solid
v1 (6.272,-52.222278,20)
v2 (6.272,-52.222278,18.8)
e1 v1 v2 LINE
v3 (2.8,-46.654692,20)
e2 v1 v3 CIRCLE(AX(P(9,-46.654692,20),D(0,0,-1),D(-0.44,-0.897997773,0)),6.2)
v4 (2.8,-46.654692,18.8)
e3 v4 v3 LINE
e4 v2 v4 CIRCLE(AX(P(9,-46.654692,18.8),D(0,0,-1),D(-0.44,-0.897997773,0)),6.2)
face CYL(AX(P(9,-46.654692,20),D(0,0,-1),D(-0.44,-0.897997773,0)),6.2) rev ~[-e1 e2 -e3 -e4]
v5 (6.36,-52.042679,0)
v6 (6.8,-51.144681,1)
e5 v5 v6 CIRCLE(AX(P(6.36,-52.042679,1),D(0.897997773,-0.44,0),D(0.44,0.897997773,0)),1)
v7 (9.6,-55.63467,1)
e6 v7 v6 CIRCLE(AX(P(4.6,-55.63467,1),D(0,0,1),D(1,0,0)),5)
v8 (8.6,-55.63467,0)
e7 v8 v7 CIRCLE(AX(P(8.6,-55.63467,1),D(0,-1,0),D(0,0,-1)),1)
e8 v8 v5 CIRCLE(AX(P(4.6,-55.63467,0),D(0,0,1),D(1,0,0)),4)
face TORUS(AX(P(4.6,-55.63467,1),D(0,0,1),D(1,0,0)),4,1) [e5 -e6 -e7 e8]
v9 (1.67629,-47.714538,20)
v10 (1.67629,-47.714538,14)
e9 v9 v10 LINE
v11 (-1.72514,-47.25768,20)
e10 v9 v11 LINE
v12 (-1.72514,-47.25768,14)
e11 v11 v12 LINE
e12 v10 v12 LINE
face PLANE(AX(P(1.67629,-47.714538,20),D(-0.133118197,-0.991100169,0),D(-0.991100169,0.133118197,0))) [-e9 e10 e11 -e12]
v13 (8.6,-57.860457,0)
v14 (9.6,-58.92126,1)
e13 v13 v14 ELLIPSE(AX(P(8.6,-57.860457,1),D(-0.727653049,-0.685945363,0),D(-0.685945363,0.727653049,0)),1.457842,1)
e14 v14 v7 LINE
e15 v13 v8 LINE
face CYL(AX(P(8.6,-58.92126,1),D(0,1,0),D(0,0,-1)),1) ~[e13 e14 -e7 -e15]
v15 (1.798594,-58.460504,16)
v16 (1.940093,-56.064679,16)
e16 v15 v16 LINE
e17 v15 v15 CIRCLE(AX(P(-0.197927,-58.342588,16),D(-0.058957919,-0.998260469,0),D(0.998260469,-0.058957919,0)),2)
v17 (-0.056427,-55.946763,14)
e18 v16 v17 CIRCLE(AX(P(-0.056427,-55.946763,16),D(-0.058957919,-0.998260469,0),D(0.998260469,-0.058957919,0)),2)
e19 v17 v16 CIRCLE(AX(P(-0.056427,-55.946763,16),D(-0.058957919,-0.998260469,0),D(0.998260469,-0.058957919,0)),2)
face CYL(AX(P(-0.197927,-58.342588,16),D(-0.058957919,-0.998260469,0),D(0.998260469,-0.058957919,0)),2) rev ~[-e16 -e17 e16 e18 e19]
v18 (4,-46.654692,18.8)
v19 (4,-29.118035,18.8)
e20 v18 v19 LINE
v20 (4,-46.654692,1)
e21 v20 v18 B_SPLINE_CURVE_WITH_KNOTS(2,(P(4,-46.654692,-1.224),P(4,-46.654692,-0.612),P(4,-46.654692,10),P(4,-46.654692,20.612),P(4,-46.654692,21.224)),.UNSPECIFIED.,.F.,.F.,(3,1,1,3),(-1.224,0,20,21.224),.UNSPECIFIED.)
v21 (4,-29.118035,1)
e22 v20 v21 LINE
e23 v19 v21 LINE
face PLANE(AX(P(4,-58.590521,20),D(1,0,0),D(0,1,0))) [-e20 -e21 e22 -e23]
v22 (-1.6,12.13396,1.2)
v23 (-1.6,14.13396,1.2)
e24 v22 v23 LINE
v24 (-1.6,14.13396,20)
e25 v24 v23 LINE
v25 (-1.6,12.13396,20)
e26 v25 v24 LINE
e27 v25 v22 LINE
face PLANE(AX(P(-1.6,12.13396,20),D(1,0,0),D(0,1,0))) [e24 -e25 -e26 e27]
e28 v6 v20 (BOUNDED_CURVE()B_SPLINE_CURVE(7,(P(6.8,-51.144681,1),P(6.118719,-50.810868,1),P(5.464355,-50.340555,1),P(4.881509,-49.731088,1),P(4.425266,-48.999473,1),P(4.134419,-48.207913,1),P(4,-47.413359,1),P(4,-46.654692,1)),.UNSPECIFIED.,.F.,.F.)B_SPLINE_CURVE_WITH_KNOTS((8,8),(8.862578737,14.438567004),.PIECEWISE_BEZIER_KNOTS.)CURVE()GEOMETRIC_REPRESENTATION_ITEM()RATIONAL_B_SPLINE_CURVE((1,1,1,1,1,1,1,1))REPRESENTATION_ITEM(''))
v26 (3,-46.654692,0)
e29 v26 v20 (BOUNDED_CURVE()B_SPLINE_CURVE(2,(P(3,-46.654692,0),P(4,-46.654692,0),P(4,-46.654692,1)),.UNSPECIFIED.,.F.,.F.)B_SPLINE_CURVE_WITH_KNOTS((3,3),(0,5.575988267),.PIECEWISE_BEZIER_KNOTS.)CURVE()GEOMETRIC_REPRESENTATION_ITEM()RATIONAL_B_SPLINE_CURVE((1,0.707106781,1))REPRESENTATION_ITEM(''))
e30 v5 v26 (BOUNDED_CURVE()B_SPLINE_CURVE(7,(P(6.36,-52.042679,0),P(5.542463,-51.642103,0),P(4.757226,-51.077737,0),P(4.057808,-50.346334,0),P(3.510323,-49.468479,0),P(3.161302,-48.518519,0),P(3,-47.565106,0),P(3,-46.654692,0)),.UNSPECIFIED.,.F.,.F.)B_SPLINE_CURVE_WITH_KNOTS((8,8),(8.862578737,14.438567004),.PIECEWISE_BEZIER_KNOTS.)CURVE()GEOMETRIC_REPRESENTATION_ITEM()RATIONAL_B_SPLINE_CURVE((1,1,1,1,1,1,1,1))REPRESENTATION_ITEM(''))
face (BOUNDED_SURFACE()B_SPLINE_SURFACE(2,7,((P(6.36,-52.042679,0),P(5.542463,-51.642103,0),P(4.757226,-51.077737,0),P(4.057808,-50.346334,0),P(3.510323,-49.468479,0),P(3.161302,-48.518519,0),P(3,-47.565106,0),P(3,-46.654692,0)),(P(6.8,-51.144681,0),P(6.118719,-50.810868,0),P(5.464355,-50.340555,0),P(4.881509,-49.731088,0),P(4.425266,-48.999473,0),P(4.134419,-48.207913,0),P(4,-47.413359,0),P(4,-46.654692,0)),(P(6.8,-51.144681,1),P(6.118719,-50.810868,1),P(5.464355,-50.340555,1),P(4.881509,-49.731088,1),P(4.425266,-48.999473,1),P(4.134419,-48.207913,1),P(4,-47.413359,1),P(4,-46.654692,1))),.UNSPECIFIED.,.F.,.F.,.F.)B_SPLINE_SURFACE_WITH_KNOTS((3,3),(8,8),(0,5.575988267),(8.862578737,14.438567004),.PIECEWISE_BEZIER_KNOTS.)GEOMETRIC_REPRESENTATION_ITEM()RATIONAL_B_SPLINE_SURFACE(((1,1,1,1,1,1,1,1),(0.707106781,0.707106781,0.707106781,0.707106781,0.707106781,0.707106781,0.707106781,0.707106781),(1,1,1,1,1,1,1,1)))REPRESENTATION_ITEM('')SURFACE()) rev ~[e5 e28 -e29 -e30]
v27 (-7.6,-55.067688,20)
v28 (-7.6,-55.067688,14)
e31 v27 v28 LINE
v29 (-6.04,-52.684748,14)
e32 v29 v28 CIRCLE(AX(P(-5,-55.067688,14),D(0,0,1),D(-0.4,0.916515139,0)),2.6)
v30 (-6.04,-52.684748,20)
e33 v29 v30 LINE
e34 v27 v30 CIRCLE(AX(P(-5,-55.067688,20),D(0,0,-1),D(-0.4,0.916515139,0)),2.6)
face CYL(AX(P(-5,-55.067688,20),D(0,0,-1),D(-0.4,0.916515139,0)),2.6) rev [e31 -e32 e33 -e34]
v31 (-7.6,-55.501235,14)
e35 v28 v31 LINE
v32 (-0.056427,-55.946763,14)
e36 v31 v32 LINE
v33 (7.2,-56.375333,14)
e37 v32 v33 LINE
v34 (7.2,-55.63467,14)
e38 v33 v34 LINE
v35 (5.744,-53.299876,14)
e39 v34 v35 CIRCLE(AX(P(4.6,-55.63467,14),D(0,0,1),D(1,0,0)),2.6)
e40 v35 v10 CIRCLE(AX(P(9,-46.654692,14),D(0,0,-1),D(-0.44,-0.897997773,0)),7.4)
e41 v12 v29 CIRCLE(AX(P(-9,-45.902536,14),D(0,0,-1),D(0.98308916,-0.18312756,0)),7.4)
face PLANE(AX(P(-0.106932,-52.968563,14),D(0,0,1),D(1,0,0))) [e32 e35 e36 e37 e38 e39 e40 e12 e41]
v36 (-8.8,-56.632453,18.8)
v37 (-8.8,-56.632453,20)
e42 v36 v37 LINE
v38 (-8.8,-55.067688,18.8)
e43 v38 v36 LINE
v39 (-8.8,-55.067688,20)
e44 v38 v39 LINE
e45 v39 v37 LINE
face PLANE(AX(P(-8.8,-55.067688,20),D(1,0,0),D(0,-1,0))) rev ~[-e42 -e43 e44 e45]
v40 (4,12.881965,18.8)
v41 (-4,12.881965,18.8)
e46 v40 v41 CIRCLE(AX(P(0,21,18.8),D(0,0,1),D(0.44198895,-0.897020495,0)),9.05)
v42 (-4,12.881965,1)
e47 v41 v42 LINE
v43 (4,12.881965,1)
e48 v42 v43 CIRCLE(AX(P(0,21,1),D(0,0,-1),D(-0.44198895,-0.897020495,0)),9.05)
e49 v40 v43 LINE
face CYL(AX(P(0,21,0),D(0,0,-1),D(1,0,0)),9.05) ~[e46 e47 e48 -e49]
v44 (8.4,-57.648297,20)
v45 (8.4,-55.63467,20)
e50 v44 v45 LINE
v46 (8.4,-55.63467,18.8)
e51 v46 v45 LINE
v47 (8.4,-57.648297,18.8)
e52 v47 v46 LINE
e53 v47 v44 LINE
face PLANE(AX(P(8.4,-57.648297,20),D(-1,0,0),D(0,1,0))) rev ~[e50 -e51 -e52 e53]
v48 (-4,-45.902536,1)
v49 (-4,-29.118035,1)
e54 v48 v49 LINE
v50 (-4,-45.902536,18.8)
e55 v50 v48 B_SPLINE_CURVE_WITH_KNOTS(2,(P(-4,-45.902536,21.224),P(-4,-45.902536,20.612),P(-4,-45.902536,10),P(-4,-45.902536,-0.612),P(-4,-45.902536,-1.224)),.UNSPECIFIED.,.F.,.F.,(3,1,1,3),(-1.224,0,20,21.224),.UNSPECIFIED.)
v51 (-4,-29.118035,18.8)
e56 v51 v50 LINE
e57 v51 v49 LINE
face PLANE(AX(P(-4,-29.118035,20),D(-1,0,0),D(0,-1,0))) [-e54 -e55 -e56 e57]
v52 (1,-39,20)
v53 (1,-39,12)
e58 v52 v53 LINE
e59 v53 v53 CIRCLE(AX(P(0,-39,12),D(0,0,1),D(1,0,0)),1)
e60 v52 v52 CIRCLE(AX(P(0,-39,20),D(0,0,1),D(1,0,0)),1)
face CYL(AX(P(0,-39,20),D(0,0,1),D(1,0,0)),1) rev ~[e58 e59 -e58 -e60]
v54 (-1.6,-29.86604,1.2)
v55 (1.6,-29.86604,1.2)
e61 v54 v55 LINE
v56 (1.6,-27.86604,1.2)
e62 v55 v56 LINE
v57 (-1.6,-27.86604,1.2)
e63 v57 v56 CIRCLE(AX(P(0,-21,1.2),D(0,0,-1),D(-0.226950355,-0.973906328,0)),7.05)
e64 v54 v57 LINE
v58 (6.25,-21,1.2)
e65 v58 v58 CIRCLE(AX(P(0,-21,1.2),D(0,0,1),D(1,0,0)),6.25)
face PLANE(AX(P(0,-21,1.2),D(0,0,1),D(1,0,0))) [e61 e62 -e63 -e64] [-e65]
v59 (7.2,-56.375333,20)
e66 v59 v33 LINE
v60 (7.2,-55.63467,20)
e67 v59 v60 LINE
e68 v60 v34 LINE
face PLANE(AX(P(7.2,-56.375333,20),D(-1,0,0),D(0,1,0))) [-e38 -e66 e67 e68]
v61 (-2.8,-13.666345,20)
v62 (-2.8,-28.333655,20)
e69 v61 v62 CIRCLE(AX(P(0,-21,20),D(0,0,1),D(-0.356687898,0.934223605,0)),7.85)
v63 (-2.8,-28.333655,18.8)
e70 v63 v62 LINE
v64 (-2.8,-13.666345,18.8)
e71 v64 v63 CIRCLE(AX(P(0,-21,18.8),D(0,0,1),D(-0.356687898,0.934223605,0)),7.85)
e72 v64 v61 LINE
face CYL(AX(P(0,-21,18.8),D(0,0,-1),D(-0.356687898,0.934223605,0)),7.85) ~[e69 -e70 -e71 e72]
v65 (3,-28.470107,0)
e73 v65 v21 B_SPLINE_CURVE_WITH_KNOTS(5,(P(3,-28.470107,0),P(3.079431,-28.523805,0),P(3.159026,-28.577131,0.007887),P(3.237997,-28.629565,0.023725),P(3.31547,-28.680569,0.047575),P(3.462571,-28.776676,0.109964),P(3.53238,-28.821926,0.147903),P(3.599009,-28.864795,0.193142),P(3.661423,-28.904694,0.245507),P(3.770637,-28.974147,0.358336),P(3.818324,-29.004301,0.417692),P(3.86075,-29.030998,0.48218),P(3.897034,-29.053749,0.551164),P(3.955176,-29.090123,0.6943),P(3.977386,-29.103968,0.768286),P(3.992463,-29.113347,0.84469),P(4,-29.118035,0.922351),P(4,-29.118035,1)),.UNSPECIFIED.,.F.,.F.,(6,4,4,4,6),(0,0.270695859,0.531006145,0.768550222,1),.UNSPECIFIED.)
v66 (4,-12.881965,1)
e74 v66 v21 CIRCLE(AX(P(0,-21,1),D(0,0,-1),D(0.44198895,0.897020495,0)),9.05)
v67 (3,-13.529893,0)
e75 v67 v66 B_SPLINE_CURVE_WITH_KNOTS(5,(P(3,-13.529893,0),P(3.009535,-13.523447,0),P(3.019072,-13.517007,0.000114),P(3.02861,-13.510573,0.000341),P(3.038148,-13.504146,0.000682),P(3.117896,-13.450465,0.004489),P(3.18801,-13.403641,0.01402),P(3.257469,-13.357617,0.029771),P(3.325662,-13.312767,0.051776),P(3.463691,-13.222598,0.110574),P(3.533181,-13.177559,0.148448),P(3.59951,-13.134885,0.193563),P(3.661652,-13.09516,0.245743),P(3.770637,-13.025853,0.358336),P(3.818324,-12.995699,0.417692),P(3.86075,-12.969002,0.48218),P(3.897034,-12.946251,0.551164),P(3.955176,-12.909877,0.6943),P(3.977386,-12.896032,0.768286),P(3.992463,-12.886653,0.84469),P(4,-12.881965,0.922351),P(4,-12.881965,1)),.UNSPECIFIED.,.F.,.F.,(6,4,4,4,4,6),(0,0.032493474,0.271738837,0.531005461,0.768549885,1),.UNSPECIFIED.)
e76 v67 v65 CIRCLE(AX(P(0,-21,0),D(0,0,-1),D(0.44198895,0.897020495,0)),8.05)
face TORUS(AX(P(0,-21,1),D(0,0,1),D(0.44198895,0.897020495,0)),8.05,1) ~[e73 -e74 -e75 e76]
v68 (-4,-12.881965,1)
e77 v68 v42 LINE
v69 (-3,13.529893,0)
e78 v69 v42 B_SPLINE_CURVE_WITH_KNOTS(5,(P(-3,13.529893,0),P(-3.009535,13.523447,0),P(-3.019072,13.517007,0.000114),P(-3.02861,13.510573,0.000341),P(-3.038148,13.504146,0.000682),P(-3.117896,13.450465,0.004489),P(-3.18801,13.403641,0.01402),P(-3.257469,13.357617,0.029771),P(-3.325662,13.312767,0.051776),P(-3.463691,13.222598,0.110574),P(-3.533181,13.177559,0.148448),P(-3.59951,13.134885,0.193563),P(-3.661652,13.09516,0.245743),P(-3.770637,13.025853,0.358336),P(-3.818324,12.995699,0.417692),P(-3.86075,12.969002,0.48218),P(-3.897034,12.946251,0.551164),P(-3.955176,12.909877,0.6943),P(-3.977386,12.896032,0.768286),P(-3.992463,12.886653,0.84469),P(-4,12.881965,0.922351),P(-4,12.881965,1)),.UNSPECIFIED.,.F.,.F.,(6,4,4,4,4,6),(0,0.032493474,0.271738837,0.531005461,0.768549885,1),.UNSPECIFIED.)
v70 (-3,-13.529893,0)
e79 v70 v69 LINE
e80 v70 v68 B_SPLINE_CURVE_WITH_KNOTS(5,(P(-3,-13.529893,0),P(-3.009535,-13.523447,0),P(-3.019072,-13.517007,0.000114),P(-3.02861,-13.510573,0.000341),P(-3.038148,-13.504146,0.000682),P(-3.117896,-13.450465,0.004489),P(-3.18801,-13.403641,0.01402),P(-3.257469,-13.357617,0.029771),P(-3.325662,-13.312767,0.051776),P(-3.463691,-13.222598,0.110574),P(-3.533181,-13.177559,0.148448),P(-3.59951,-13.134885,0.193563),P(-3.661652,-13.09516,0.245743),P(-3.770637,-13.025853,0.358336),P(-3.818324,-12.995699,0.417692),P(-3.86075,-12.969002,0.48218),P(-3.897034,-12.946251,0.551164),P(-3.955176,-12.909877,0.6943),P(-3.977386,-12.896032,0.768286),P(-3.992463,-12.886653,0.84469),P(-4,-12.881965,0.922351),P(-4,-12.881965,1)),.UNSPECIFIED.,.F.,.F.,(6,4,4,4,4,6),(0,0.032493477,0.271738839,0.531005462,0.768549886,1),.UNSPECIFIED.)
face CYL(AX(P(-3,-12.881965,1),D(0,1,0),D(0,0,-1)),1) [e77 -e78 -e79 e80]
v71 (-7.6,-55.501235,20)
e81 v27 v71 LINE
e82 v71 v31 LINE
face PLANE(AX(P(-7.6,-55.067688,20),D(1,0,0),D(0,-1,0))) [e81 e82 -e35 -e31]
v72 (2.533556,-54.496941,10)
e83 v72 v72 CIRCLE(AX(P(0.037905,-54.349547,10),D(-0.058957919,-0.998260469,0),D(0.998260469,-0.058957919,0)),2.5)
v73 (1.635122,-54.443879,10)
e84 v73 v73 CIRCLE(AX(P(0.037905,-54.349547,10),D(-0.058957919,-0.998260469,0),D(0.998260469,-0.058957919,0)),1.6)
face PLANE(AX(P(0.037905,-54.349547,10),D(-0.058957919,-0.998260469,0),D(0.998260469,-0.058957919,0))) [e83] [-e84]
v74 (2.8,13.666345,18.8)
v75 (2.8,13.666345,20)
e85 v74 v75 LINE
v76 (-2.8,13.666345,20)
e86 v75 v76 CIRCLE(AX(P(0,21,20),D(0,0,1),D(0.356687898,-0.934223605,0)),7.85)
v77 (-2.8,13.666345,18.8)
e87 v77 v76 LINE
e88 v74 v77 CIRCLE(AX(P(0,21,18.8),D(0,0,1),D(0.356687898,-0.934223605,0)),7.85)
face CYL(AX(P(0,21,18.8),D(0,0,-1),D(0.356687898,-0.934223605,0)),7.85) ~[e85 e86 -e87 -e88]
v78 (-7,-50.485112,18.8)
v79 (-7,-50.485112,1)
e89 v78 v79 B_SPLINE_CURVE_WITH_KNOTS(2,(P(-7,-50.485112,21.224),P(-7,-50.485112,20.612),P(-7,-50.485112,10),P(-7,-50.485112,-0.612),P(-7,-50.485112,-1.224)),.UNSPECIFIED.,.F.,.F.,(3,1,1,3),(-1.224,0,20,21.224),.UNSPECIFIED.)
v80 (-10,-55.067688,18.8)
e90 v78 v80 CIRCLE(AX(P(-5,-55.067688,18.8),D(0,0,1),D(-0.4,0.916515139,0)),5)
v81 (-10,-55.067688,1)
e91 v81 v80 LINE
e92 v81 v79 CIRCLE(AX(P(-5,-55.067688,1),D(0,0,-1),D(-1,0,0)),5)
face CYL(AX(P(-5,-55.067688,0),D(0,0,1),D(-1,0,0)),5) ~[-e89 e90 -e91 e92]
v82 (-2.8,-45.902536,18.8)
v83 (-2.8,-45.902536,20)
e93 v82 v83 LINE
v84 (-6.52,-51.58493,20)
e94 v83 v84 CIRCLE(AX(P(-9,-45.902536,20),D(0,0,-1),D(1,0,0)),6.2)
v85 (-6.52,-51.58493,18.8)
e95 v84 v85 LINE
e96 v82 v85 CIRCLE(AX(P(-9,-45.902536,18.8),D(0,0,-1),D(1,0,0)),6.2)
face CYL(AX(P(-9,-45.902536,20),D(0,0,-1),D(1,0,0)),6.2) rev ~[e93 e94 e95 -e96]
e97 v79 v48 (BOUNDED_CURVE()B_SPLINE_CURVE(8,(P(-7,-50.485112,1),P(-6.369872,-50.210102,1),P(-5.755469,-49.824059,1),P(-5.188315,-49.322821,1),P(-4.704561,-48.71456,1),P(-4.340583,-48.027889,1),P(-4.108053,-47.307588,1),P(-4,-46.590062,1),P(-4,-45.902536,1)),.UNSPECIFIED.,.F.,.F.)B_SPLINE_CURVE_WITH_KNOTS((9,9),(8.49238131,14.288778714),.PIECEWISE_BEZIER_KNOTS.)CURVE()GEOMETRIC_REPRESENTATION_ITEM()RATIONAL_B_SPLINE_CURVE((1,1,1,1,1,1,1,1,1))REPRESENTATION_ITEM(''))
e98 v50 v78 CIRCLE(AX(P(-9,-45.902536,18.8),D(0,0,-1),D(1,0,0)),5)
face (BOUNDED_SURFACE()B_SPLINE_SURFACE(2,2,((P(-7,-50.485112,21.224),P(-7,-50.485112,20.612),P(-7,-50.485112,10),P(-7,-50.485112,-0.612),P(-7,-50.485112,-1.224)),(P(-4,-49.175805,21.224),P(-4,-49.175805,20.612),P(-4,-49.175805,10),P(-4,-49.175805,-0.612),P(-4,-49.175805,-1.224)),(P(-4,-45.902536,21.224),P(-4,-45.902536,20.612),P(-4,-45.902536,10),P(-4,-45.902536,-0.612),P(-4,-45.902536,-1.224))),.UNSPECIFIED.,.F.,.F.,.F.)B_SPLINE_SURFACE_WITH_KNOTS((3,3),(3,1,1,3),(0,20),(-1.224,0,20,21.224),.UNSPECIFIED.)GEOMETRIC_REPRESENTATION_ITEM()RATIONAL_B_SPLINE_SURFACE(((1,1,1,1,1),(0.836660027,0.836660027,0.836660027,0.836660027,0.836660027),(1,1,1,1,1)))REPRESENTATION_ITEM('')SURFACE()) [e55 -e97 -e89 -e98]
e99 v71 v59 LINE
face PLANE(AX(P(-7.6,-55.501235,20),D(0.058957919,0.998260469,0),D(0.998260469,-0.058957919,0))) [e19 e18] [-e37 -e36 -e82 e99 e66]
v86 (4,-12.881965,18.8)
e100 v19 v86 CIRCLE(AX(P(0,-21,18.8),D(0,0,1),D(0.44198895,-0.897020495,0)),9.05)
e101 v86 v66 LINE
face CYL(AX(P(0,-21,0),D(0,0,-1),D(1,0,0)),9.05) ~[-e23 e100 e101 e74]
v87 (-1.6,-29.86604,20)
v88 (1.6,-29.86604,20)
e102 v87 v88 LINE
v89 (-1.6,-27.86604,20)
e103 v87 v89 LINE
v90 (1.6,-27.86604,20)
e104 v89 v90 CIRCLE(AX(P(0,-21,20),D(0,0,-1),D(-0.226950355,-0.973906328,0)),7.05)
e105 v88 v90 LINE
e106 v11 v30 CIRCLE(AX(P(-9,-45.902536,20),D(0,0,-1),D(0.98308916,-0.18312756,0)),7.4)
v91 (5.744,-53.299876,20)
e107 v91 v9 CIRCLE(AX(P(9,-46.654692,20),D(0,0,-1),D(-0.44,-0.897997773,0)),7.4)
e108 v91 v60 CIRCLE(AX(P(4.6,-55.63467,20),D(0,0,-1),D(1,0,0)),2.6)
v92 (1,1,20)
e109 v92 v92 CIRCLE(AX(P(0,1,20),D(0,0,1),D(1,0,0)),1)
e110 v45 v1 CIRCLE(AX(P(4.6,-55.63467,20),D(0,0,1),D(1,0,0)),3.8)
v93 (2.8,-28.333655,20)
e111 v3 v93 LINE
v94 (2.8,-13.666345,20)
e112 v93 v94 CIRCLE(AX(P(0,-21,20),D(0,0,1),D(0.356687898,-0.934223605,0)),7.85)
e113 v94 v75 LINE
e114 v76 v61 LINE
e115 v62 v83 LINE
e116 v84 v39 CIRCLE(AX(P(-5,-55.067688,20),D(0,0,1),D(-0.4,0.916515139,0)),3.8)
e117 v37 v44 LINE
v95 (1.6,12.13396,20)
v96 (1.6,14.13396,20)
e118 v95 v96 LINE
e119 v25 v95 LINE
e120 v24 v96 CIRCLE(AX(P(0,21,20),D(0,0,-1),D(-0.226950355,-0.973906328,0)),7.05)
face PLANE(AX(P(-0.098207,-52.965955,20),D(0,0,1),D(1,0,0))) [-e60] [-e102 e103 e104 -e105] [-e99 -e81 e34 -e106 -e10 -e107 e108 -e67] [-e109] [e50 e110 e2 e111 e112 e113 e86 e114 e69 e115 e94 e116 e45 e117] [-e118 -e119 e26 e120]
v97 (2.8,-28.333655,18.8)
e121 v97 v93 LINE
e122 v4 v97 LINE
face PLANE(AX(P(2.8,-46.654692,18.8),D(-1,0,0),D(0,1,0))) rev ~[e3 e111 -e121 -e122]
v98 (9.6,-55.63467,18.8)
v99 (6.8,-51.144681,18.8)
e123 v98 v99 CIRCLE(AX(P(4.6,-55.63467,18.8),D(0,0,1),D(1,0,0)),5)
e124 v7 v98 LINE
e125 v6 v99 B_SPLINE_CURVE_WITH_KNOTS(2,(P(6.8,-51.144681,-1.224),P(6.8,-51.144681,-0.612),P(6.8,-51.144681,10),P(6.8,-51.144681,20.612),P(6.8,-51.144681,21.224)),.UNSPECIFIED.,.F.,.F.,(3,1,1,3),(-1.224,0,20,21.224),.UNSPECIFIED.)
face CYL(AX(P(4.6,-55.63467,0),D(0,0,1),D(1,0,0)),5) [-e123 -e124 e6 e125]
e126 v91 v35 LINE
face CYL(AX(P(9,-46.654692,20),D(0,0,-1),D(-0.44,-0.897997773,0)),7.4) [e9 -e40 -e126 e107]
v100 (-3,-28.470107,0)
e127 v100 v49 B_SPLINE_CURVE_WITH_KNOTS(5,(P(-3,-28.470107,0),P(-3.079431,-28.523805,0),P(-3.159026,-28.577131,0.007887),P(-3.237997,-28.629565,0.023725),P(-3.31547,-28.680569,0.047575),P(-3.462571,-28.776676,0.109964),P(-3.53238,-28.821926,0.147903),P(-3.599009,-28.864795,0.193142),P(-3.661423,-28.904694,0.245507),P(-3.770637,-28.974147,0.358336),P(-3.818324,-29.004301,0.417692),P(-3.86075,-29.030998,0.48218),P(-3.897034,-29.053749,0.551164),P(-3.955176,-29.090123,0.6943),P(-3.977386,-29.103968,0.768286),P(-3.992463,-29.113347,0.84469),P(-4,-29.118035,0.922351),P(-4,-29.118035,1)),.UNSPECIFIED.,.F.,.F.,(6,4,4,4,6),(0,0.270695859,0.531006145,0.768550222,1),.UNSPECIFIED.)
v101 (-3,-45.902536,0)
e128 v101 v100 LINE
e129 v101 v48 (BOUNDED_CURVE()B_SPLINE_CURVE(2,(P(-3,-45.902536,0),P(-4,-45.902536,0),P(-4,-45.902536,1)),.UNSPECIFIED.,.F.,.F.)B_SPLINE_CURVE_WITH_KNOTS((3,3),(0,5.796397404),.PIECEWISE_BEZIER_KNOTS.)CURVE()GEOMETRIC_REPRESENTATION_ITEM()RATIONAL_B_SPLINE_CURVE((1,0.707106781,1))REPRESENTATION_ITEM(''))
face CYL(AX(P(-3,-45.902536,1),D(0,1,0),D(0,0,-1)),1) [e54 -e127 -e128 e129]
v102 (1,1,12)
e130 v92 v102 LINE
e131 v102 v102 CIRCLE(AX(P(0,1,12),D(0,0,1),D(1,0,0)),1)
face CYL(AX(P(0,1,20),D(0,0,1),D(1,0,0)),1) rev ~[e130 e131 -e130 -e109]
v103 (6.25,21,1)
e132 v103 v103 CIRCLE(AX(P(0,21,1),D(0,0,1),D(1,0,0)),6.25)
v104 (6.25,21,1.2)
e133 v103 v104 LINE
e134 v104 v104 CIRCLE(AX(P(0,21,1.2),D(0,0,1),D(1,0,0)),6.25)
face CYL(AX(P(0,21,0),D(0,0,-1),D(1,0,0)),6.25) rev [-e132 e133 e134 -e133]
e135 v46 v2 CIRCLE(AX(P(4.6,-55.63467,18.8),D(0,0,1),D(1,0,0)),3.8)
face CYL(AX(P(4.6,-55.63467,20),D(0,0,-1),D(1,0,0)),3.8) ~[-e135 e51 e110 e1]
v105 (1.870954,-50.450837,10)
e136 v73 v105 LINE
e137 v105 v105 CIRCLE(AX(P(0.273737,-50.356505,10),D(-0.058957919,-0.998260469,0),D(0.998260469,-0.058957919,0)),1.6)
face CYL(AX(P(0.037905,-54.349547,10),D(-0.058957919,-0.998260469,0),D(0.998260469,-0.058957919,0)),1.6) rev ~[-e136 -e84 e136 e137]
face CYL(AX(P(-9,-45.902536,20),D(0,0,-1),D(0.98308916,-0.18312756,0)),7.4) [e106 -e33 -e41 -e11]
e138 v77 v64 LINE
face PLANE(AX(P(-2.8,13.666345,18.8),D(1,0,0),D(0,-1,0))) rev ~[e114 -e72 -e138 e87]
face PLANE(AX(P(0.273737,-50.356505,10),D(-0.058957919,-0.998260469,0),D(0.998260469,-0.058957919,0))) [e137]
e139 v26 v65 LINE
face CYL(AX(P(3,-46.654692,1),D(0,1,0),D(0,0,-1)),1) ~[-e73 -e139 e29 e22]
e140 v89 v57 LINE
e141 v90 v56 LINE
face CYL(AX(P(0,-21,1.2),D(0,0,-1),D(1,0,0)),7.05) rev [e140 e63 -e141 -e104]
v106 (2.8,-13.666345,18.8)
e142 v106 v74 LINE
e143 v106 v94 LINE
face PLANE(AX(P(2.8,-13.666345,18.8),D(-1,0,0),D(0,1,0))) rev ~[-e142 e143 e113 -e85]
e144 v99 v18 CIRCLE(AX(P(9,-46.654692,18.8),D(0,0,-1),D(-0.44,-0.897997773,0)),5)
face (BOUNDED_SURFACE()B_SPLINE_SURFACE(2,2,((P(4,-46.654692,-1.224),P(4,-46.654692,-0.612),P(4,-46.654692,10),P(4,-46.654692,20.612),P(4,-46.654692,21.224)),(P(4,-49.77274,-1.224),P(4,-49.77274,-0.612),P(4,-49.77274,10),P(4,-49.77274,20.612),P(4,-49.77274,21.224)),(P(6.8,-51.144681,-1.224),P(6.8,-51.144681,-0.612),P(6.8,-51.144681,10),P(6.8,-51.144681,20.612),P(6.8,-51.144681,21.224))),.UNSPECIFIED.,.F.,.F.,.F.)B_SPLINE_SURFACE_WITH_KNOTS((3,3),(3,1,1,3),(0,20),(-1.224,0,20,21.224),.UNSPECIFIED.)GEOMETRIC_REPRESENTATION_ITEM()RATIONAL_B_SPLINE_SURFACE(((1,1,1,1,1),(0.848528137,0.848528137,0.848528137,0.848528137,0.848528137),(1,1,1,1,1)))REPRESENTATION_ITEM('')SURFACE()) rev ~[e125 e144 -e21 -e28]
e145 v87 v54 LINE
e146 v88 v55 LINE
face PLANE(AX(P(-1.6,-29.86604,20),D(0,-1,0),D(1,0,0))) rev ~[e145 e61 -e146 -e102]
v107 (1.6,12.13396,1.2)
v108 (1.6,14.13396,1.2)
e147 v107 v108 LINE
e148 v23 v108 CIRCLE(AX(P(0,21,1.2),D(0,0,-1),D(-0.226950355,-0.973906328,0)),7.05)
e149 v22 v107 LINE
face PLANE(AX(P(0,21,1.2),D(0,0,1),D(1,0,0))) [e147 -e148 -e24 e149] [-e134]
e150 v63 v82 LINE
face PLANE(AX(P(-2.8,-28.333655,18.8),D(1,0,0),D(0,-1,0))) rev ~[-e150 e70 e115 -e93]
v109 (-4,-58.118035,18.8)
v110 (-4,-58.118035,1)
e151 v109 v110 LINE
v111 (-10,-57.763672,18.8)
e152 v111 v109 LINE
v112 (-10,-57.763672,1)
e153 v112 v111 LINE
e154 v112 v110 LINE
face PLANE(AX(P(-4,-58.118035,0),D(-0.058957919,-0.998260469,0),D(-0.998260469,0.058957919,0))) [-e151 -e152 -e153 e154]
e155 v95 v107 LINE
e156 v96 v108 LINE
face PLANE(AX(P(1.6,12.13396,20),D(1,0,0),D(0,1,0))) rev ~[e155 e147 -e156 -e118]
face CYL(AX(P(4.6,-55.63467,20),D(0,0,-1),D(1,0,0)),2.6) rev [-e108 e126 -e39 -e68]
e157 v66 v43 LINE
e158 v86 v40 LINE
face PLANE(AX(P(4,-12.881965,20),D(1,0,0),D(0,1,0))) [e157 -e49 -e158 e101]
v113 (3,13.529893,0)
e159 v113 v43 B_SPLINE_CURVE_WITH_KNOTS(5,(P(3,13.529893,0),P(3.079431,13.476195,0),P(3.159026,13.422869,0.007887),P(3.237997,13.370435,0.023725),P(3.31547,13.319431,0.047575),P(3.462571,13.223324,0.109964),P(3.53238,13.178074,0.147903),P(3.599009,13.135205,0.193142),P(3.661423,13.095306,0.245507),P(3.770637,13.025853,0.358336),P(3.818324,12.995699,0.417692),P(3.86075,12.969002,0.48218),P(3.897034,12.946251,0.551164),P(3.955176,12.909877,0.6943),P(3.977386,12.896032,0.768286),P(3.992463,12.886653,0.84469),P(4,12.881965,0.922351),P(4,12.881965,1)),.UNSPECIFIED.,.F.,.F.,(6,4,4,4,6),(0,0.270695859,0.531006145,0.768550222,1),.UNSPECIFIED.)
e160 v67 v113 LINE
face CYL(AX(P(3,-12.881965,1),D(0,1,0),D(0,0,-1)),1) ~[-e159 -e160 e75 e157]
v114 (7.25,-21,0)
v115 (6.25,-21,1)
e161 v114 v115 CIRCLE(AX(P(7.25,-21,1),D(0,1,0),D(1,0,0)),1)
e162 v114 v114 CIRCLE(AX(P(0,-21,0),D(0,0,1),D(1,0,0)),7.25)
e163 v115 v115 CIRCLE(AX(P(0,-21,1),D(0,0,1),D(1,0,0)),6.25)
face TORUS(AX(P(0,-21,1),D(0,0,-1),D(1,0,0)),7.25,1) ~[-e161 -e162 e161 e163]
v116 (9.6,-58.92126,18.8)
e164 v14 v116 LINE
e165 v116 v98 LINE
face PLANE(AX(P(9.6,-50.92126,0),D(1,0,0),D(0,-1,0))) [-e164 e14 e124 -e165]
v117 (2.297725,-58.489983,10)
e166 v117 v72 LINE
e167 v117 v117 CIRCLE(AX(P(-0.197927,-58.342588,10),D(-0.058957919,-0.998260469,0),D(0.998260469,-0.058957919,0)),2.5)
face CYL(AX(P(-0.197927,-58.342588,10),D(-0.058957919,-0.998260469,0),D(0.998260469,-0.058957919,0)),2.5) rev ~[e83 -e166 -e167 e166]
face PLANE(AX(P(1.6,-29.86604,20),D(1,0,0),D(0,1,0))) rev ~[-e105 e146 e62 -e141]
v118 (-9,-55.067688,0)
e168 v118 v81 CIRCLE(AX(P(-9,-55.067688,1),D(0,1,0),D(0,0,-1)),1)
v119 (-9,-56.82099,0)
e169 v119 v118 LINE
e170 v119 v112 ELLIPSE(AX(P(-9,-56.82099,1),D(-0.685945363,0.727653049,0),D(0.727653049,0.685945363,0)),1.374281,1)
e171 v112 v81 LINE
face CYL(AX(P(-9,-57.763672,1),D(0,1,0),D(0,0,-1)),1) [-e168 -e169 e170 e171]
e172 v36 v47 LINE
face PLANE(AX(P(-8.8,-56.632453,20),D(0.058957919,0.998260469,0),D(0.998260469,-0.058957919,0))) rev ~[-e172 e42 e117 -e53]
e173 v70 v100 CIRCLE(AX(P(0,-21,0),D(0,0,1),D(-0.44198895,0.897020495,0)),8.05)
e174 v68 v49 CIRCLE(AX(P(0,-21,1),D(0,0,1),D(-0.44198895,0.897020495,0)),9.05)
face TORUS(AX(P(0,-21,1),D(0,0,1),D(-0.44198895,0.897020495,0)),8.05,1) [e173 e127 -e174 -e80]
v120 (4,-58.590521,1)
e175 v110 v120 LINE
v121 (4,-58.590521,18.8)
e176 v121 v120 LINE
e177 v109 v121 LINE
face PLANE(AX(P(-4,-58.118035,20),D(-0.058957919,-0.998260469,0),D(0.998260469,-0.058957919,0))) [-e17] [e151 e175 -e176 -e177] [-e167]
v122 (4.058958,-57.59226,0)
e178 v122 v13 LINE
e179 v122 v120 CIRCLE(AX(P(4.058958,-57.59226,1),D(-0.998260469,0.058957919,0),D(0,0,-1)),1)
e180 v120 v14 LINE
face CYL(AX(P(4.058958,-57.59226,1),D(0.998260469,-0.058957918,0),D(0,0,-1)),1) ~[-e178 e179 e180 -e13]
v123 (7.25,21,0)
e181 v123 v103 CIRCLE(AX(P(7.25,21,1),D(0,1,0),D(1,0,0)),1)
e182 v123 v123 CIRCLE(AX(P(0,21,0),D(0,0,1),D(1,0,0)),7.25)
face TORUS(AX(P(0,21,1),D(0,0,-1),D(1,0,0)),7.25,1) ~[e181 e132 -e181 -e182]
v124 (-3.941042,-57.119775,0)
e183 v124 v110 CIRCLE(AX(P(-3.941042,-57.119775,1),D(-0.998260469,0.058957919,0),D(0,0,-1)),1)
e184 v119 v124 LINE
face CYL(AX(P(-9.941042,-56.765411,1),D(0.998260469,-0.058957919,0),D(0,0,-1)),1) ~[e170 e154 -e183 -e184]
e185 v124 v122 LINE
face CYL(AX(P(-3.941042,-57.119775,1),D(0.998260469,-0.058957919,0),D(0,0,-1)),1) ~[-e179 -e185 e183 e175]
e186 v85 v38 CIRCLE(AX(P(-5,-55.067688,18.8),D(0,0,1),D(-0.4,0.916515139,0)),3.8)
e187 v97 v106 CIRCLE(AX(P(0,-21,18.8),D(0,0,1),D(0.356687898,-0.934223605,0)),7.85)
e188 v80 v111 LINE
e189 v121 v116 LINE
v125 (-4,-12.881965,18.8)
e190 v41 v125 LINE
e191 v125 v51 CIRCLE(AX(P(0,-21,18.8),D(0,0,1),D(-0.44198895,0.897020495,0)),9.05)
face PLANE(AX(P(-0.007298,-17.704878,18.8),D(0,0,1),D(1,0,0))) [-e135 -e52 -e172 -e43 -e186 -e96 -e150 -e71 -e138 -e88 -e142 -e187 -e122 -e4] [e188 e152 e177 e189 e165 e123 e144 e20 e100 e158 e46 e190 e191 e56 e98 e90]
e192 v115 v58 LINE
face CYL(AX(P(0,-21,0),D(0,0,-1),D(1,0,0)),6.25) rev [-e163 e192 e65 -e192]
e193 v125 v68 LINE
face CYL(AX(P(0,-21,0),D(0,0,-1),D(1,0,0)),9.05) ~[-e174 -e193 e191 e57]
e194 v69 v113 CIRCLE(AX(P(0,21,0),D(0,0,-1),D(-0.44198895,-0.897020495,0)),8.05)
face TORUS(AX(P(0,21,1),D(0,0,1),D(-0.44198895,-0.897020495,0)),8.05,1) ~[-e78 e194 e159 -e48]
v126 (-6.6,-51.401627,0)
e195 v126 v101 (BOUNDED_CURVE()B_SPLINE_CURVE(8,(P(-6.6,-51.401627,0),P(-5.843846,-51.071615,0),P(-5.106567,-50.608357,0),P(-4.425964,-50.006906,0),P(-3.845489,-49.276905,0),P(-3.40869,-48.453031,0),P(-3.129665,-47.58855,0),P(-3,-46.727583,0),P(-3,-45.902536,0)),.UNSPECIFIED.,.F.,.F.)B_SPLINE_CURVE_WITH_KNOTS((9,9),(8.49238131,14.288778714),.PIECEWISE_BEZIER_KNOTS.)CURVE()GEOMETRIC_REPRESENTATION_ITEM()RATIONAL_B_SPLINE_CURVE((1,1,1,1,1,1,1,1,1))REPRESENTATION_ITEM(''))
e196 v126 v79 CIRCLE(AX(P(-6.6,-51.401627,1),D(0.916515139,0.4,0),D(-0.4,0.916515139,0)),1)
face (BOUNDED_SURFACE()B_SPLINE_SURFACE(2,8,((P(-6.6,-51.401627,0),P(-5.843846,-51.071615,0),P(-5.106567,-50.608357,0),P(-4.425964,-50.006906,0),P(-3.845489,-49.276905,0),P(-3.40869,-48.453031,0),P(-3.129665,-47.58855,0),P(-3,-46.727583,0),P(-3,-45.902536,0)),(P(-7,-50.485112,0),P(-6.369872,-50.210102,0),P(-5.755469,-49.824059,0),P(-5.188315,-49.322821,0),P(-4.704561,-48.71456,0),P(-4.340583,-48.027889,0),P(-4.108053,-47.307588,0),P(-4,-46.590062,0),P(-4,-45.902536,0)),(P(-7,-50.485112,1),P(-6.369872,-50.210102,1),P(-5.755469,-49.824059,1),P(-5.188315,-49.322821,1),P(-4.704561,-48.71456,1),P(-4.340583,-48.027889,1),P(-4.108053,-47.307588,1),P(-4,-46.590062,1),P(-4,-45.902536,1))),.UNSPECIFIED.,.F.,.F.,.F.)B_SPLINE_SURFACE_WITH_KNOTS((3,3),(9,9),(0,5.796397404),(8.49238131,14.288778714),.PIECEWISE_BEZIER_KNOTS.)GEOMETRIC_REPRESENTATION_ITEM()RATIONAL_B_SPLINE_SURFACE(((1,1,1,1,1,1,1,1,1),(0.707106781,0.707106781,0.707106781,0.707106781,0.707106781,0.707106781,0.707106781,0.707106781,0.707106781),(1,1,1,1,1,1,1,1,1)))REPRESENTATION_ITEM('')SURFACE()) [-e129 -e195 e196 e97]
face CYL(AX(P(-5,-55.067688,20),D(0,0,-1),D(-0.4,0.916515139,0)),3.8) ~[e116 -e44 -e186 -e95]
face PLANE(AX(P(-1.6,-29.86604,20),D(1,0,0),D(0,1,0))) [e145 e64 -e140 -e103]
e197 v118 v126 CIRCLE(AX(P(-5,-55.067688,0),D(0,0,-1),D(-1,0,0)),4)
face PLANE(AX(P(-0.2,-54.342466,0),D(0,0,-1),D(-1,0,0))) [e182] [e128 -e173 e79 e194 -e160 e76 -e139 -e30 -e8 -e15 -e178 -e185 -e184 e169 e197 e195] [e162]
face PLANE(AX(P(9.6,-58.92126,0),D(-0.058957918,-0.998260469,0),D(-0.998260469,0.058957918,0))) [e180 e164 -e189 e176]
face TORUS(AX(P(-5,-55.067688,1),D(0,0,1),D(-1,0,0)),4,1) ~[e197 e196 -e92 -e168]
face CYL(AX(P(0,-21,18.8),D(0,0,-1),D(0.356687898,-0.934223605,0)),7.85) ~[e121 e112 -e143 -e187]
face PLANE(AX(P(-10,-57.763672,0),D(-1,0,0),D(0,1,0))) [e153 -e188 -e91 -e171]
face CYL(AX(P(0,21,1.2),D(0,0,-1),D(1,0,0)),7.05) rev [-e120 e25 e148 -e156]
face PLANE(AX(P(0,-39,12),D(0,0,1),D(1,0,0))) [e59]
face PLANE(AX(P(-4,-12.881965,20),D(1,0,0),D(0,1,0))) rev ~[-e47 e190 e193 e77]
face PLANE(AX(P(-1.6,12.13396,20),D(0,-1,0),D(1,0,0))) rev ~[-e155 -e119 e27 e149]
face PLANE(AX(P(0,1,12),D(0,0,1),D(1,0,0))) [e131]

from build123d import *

# Parameters (mm, degrees)
SKETCH_15_R          = 9.05
SKETCH_15_R_2        = 6.25
EXTRUDE_4_DEPTH      = 20
EXTRUDE_4_2_DEPTH    = 20
SKETCH_16_W          = 8
SKETCH_16_H          = 25.763929046
EXTRUDE_4_3_DEPTH    = 20
EXTRUDE_5_DEPTH      = 20
FILLET_5_R           = 5
FILLET_6_R           = 5
FILLET_7_R           = 1
CUT_EXTRUDE_START    = -18.8
SKETCH_18_R          = 7.05
SKETCH_18_R_2        = 6.25
CUT_EXTRUDE_2_DEPTH  = 18.8
CUT_EXTRUDE_START_2  = -1.2
CUT_EXTRUDE_3_DEPTH  = 1.2
SKETCH_20_R          = 1
CUT_EXTRUDE_6_DEPTH  = 8
SKETCH_21_R          = 2.5
SKETCH_21_R_2        = 2
CUT_EXTRUDE_7_DEPTH  = 4
SKETCH_22_R          = 1.6
SKETCH_22_R_2        = 2
CUT_EXTRUDE_8_DEPTH  = 4
EXTRUDE_5_2_DEPTH    = 1
CUT_EXTRUDE_START_3  = -6
CUT_EXTRUDE_9_DEPTH  = 6
CUT_EXTRUDE_START_4  = -1
CUT_EXTRUDE_10_DEPTH = 1
SKETCH_26_W          = 3.2
SKETCH_26_H          = 2
CUT_EXTRUDE_11_DEPTH = 18.8


with BuildPart() as part:
    # Эскиз15 → Extrude 4 (new body)
    with BuildSketch(Plane.XY):
        with Locations((0, 21)):
            Circle(SKETCH_15_R)
        with Locations((0, 21)):
            Circle(SKETCH_15_R_2, mode=Mode.SUBTRACT)
    extrude(amount=EXTRUDE_4_DEPTH)



with BuildPart() as body_2:
    # Эскиз15 → Extrude 4 2 (new body)
    with BuildSketch(Plane.XY):
        with Locations((0, -21)):
            Circle(SKETCH_15_R)
        with Locations((0, -21)):
            Circle(SKETCH_15_R_2, mode=Mode.SUBTRACT)
    extrude(amount=EXTRUDE_4_2_DEPTH)


with BuildPart() as part_1:
    add(part.part)

    add(body_2.part)  # Extrude 4 3 merges body 2
    # Эскиз16 → Extrude 4 3 (add)
    with BuildSketch(Plane.XY.offset(20)):
        Polygon((-4, -29.118035477), (-4, -58.118035477), (4, -58.590520728), (4, -29.118035477), align=None)
        Rectangle(SKETCH_16_W, SKETCH_16_H)
    extrude(amount=-EXTRUDE_4_3_DEPTH)

    # Эскиз17 → Extrude 5 (add)
    with BuildSketch(Plane(origin=(0, 0, 0), x_dir=(-1, 0, 0), z_dir=(0, 0, -1))):
        Polygon((4, -58.118035477), (10, -57.763671538), (10, -49.763671538), (-9.6, -50.921260403), (-9.6, -58.921260403), (-4, -58.590520728), align=None)
    extrude(amount=-EXTRUDE_5_DEPTH)

    # Скругление5
    fillet_5_edges = [part_1.edges().sort_by_distance(p)[0] for p in [
        (9.6, -50.921260403, 10),
        (-10, -49.763671538, 10),
    ]]
    fillet(fillet_5_edges, radius=FILLET_5_R)

    # Скругление6
    fillet_6_edges = [part_1.edges().sort_by_distance(p)[0] for p in [
        (-4, -50.118035477, 10),
        (4, -50.590520728, 10),
    ]]
    fillet(fillet_6_edges, radius=FILLET_6_R)

    # Скругление7
    fillet_7_edges = [part_1.edges().sort_by_distance(p)[0] for p in [
        (8.842640687, -52.988918622, 0),
        (4, -37.886363841, 0),
        (-4.816699867, -48.641149029, 0),
        (4.757359313, -49.300443516, 0),
        (0, 30.05, 0),
        (-4, 0, 0),
        (4, 0, 0),
        (-6.25, -21, 0),
        (-9.05, -21, 0),
        (9.05, -21, 0),
        (-0.2, -58.342465971, 0),
        (-4, -37.510285859, 0),
        (-6.25, 21, 0),
        (-10, -56.415679585, 0),
        (9.6, -57.277965168, 0),
        (-9.183300133, -52.329074844, 0),
    ]]
    fillet(fillet_7_edges, radius=FILLET_7_R)

    # Эскиз18 → Вырез-Вытянуть-Тонкостенный2 (cut)
    # profile 1 of 2: a face of its own
    with BuildSketch(Plane.XY.offset(20).offset(CUT_EXTRUDE_START)):
        with Locations((0, -21)):
            Circle(SKETCH_18_R)
        with Locations((0, -21)):
            Circle(SKETCH_18_R_2, mode=Mode.SUBTRACT)
    # profile 2 of 2: a face of its own
    with BuildSketch(Plane.XY.offset(20).offset(CUT_EXTRUDE_START)):
        with Locations((0, 21)):
            Circle(SKETCH_18_R)
        with Locations((0, 21)):
            Circle(SKETCH_18_R_2, mode=Mode.SUBTRACT)
    extrude(amount=CUT_EXTRUDE_2_DEPTH, mode=Mode.SUBTRACT)

    # Эскиз19 → Вырез-Вытянуть-Тонкостенный3 (cut)
    with BuildSketch(Plane.XY.offset(20).offset(CUT_EXTRUDE_START_2)):
        with BuildLine():
            Line((-10, -55.067687632), (-10, -57.763671538))
            Line((-10, -57.763671538), (9.6, -58.921260403))
            Line((9.6, -58.921260403), (9.6, -55.634669933))
            ThreePointArc((9.6, -55.634669933), (8.842640687, -52.988918622), (6.8, -51.144681069))
            ThreePointArc((6.8, -51.144681069), (4.757359313, -49.300443516), (4, -46.654692205))
            Line((4, -46.654692205), (4, -29.118035477))
            ThreePointArc((4, -29.118035477), (9.05, -21), (4, -12.881964523))
            Line((4, -12.881964523), (4, 12.881964523))
            ThreePointArc((4, 12.881964523), (0, 30.05), (-4, 12.881964523))
            Line((-4, 12.881964523), (-4, -12.881964523))
            ThreePointArc((-4, -12.881964523), (-9.05, -21), (-4, -29.118035477))
            Line((-4, -29.118035477), (-4, -45.902536242))
            ThreePointArc((-4, -45.902536242), (-4.816699867, -48.641149029), (-7, -50.485111937))
            ThreePointArc((-7, -50.485111937), (-9.183300133, -52.329074844), (-10, -55.067687632))
        make_face()
        with BuildLine():
            Line((-8.8, -55.067687632), (-8.8, -56.632453251))
            Line((-8.8, -56.632453251), (8.4, -57.648296541))
            Line((8.4, -57.648296541), (8.4, -55.634669933))
            ThreePointArc((8.4, -55.634669933), (7.824406922, -53.623898937), (6.272, -52.222278396))
            ThreePointArc((6.272, -52.222278396), (3.739125548, -49.935423831), (2.8, -46.654692205))
            Line((2.8, -46.654692205), (2.8, -28.333655296))
            ThreePointArc((2.8, -28.333655296), (7.85, -21), (2.8, -13.666344704))
            Line((2.8, -13.666344704), (2.8, 13.666344704))
            ThreePointArc((2.8, 13.666344704), (0, 28.85), (-2.8, 13.666344704))
            Line((-2.8, 13.666344704), (-2.8, -13.666344704))
            ThreePointArc((-2.8, -13.666344704), (-7.85, -21), (-2.8, -28.333655296))
            Line((-2.8, -28.333655296), (-2.8, -45.902536242))
            ThreePointArc((-2.8, -45.902536242), (-3.812707835, -49.298416098), (-6.52, -51.584930104))
            ThreePointArc((-6.52, -51.584930104), (-8.179308101, -52.986341913), (-8.8, -55.067687632))
        make_face(mode=Mode.SUBTRACT)
    extrude(amount=CUT_EXTRUDE_3_DEPTH, mode=Mode.SUBTRACT)

    # Эскиз20 → Вырез-Вытянуть6 (cut)
    with BuildSketch(Plane.XY.offset(20)):
        with Locations((0, 1)):
            Circle(SKETCH_20_R)
        with Locations((0, -39)):
            Circle(SKETCH_20_R)
    extrude(amount=-CUT_EXTRUDE_6_DEPTH, mode=Mode.SUBTRACT)

    # Эскиз21 → Вырез-Вытянуть7 (cut)
    with BuildSketch(Plane(origin=(-3.434462011, -58.151436522, 0), x_dir=(0.998260468936824, -0.058957918535447094, 0), z_dir=(-0.05895791853544709, -0.9982604689368239, 0))):
        with Locations((3.242175373, 10)):
            Circle(SKETCH_21_R)
        with Locations((3.242175373, 16)):
            Circle(SKETCH_21_R_2)
    extrude(amount=-CUT_EXTRUDE_7_DEPTH, mode=Mode.SUBTRACT)

    # Эскиз22 → Вырез-Вытянуть8 (cut)
    with BuildSketch(Plane(origin=(-3.198630336, -54.158394646, 0), x_dir=(0.998260468936824, -0.058957918535447115, 0), z_dir=(-0.05895791853544711, -0.9982604689368239, 0))):
        with Locations((3.242175373, 10)):
            Circle(SKETCH_22_R)
        with Locations((3.242175373, 16)):
            Circle(SKETCH_22_R_2)
    extrude(amount=-CUT_EXTRUDE_8_DEPTH, mode=Mode.SUBTRACT)

    # Эскиз23 → Extrude 5 2 (add)
    with BuildSketch(Plane.XY.offset(20)):
        with BuildLine():
            ThreePointArc((-6.52, -51.584930104), (-8.179308101, -52.986341913), (-8.8, -55.067687632))
            Line((-8.8, -55.067687632), (-8.8, -56.632453251))
            Line((-8.8, -56.632453251), (8.4, -57.648296541))
            Line((8.4, -57.648296541), (8.4, -55.634669933))
            ThreePointArc((8.4, -55.634669933), (7.824406922, -53.623898937), (6.272, -52.222278396))
            ThreePointArc((6.272, -52.222278396), (3.739125548, -49.935423831), (2.8, -46.654692205))
            Line((2.8, -46.654692205), (-2.8, -45.902536242))
            ThreePointArc((-2.8, -45.902536242), (-3.812707835, -49.298416098), (-6.52, -51.584930104))
        make_face()
        with BuildLine():
            ThreePointArc((-6.04, -52.68474827), (-7.175316069, -53.643608982), (-7.6, -55.067687632))
            Line((-7.6, -55.067687632), (-7.6, -55.501234964))
            Line((-7.6, -55.501234964), (7.2, -56.375332679))
            Line((7.2, -56.375332679), (7.2, -55.634669933))
            ThreePointArc((7.2, -55.634669933), (6.806173157, -54.258879251), (5.744, -53.299875724))
            ThreePointArc((5.744, -53.299875724), (3.018230754, -51.011116965), (1.676290149, -47.714538428))
            Line((1.676290149, -47.714538428), (-1.725140216, -47.25768019))
            ThreePointArc((-1.725140216, -47.25768019), (-3.207646792, -50.507820632), (-6.04, -52.68474827))
        make_face(mode=Mode.SUBTRACT)
    extrude(amount=EXTRUDE_5_2_DEPTH)

    # Эскиз24 → Вырез-Вытянуть9 (cut)
    with BuildSketch(Plane.XY.offset(20).offset(CUT_EXTRUDE_START_3)):
        with BuildLine():
            Line((7.2, -56.375332679), (7.2, -55.634669933))
            ThreePointArc((7.2, -55.634669933), (6.806173157, -54.258879251), (5.744, -53.299875724))
            ThreePointArc((5.744, -53.299875724), (3.018230754, -51.011116965), (1.676290149, -47.714538428))
            Line((1.676290149, -47.714538428), (-1.725140216, -47.25768019))
            ThreePointArc((-1.725140216, -47.25768019), (-3.207646792, -50.507820632), (-6.04, -52.68474827))
            ThreePointArc((-6.04, -52.68474827), (-7.175316069, -53.643608982), (-7.6, -55.067687632))
            Line((-7.6, -55.067687632), (-7.6, -55.501234964))
            Line((-7.6, -55.501234964), (7.2, -56.375332679))
        make_face()
    extrude(amount=CUT_EXTRUDE_9_DEPTH, mode=Mode.SUBTRACT)

    # Эскиз25 → Вырез-Вытянуть10 (cut)
    with BuildSketch(Plane.XY.offset(21).offset(CUT_EXTRUDE_START_4)):
        with BuildLine():
            Line((2.8, -46.654692205), (-2.8, -45.902536242))
            ThreePointArc((-2.8, -45.902536242), (-3.812707835, -49.298416098), (-6.52, -51.584930104))
            ThreePointArc((-6.52, -51.584930104), (-8.179308101, -52.986341913), (-8.8, -55.067687632))
            Line((-8.8, -55.067687632), (-8.8, -56.632453251))
            Line((-8.8, -56.632453251), (8.4, -57.648296541))
            Line((8.4, -57.648296541), (8.4, -55.634669933))
            ThreePointArc((8.4, -55.634669933), (7.824406922, -53.623898937), (6.272, -52.222278396))
            ThreePointArc((6.272, -52.222278396), (3.739125548, -49.935423831), (2.8, -46.654692205))
        make_face()
    extrude(amount=CUT_EXTRUDE_10_DEPTH, mode=Mode.SUBTRACT)

    # Эскиз26 → Вырез-Вытянуть11 (cut)
    with BuildSketch(Plane.XY.offset(20)):
        with Locations((0, 13.133960385)):
            Rectangle(SKETCH_26_W, SKETCH_26_H)
        with Locations((0, -28.866039615)):
            Rectangle(SKETCH_26_W, SKETCH_26_H)
    extrude(amount=-CUT_EXTRUDE_11_DEPTH, mode=Mode.SUBTRACT)


solid = part_1.part
